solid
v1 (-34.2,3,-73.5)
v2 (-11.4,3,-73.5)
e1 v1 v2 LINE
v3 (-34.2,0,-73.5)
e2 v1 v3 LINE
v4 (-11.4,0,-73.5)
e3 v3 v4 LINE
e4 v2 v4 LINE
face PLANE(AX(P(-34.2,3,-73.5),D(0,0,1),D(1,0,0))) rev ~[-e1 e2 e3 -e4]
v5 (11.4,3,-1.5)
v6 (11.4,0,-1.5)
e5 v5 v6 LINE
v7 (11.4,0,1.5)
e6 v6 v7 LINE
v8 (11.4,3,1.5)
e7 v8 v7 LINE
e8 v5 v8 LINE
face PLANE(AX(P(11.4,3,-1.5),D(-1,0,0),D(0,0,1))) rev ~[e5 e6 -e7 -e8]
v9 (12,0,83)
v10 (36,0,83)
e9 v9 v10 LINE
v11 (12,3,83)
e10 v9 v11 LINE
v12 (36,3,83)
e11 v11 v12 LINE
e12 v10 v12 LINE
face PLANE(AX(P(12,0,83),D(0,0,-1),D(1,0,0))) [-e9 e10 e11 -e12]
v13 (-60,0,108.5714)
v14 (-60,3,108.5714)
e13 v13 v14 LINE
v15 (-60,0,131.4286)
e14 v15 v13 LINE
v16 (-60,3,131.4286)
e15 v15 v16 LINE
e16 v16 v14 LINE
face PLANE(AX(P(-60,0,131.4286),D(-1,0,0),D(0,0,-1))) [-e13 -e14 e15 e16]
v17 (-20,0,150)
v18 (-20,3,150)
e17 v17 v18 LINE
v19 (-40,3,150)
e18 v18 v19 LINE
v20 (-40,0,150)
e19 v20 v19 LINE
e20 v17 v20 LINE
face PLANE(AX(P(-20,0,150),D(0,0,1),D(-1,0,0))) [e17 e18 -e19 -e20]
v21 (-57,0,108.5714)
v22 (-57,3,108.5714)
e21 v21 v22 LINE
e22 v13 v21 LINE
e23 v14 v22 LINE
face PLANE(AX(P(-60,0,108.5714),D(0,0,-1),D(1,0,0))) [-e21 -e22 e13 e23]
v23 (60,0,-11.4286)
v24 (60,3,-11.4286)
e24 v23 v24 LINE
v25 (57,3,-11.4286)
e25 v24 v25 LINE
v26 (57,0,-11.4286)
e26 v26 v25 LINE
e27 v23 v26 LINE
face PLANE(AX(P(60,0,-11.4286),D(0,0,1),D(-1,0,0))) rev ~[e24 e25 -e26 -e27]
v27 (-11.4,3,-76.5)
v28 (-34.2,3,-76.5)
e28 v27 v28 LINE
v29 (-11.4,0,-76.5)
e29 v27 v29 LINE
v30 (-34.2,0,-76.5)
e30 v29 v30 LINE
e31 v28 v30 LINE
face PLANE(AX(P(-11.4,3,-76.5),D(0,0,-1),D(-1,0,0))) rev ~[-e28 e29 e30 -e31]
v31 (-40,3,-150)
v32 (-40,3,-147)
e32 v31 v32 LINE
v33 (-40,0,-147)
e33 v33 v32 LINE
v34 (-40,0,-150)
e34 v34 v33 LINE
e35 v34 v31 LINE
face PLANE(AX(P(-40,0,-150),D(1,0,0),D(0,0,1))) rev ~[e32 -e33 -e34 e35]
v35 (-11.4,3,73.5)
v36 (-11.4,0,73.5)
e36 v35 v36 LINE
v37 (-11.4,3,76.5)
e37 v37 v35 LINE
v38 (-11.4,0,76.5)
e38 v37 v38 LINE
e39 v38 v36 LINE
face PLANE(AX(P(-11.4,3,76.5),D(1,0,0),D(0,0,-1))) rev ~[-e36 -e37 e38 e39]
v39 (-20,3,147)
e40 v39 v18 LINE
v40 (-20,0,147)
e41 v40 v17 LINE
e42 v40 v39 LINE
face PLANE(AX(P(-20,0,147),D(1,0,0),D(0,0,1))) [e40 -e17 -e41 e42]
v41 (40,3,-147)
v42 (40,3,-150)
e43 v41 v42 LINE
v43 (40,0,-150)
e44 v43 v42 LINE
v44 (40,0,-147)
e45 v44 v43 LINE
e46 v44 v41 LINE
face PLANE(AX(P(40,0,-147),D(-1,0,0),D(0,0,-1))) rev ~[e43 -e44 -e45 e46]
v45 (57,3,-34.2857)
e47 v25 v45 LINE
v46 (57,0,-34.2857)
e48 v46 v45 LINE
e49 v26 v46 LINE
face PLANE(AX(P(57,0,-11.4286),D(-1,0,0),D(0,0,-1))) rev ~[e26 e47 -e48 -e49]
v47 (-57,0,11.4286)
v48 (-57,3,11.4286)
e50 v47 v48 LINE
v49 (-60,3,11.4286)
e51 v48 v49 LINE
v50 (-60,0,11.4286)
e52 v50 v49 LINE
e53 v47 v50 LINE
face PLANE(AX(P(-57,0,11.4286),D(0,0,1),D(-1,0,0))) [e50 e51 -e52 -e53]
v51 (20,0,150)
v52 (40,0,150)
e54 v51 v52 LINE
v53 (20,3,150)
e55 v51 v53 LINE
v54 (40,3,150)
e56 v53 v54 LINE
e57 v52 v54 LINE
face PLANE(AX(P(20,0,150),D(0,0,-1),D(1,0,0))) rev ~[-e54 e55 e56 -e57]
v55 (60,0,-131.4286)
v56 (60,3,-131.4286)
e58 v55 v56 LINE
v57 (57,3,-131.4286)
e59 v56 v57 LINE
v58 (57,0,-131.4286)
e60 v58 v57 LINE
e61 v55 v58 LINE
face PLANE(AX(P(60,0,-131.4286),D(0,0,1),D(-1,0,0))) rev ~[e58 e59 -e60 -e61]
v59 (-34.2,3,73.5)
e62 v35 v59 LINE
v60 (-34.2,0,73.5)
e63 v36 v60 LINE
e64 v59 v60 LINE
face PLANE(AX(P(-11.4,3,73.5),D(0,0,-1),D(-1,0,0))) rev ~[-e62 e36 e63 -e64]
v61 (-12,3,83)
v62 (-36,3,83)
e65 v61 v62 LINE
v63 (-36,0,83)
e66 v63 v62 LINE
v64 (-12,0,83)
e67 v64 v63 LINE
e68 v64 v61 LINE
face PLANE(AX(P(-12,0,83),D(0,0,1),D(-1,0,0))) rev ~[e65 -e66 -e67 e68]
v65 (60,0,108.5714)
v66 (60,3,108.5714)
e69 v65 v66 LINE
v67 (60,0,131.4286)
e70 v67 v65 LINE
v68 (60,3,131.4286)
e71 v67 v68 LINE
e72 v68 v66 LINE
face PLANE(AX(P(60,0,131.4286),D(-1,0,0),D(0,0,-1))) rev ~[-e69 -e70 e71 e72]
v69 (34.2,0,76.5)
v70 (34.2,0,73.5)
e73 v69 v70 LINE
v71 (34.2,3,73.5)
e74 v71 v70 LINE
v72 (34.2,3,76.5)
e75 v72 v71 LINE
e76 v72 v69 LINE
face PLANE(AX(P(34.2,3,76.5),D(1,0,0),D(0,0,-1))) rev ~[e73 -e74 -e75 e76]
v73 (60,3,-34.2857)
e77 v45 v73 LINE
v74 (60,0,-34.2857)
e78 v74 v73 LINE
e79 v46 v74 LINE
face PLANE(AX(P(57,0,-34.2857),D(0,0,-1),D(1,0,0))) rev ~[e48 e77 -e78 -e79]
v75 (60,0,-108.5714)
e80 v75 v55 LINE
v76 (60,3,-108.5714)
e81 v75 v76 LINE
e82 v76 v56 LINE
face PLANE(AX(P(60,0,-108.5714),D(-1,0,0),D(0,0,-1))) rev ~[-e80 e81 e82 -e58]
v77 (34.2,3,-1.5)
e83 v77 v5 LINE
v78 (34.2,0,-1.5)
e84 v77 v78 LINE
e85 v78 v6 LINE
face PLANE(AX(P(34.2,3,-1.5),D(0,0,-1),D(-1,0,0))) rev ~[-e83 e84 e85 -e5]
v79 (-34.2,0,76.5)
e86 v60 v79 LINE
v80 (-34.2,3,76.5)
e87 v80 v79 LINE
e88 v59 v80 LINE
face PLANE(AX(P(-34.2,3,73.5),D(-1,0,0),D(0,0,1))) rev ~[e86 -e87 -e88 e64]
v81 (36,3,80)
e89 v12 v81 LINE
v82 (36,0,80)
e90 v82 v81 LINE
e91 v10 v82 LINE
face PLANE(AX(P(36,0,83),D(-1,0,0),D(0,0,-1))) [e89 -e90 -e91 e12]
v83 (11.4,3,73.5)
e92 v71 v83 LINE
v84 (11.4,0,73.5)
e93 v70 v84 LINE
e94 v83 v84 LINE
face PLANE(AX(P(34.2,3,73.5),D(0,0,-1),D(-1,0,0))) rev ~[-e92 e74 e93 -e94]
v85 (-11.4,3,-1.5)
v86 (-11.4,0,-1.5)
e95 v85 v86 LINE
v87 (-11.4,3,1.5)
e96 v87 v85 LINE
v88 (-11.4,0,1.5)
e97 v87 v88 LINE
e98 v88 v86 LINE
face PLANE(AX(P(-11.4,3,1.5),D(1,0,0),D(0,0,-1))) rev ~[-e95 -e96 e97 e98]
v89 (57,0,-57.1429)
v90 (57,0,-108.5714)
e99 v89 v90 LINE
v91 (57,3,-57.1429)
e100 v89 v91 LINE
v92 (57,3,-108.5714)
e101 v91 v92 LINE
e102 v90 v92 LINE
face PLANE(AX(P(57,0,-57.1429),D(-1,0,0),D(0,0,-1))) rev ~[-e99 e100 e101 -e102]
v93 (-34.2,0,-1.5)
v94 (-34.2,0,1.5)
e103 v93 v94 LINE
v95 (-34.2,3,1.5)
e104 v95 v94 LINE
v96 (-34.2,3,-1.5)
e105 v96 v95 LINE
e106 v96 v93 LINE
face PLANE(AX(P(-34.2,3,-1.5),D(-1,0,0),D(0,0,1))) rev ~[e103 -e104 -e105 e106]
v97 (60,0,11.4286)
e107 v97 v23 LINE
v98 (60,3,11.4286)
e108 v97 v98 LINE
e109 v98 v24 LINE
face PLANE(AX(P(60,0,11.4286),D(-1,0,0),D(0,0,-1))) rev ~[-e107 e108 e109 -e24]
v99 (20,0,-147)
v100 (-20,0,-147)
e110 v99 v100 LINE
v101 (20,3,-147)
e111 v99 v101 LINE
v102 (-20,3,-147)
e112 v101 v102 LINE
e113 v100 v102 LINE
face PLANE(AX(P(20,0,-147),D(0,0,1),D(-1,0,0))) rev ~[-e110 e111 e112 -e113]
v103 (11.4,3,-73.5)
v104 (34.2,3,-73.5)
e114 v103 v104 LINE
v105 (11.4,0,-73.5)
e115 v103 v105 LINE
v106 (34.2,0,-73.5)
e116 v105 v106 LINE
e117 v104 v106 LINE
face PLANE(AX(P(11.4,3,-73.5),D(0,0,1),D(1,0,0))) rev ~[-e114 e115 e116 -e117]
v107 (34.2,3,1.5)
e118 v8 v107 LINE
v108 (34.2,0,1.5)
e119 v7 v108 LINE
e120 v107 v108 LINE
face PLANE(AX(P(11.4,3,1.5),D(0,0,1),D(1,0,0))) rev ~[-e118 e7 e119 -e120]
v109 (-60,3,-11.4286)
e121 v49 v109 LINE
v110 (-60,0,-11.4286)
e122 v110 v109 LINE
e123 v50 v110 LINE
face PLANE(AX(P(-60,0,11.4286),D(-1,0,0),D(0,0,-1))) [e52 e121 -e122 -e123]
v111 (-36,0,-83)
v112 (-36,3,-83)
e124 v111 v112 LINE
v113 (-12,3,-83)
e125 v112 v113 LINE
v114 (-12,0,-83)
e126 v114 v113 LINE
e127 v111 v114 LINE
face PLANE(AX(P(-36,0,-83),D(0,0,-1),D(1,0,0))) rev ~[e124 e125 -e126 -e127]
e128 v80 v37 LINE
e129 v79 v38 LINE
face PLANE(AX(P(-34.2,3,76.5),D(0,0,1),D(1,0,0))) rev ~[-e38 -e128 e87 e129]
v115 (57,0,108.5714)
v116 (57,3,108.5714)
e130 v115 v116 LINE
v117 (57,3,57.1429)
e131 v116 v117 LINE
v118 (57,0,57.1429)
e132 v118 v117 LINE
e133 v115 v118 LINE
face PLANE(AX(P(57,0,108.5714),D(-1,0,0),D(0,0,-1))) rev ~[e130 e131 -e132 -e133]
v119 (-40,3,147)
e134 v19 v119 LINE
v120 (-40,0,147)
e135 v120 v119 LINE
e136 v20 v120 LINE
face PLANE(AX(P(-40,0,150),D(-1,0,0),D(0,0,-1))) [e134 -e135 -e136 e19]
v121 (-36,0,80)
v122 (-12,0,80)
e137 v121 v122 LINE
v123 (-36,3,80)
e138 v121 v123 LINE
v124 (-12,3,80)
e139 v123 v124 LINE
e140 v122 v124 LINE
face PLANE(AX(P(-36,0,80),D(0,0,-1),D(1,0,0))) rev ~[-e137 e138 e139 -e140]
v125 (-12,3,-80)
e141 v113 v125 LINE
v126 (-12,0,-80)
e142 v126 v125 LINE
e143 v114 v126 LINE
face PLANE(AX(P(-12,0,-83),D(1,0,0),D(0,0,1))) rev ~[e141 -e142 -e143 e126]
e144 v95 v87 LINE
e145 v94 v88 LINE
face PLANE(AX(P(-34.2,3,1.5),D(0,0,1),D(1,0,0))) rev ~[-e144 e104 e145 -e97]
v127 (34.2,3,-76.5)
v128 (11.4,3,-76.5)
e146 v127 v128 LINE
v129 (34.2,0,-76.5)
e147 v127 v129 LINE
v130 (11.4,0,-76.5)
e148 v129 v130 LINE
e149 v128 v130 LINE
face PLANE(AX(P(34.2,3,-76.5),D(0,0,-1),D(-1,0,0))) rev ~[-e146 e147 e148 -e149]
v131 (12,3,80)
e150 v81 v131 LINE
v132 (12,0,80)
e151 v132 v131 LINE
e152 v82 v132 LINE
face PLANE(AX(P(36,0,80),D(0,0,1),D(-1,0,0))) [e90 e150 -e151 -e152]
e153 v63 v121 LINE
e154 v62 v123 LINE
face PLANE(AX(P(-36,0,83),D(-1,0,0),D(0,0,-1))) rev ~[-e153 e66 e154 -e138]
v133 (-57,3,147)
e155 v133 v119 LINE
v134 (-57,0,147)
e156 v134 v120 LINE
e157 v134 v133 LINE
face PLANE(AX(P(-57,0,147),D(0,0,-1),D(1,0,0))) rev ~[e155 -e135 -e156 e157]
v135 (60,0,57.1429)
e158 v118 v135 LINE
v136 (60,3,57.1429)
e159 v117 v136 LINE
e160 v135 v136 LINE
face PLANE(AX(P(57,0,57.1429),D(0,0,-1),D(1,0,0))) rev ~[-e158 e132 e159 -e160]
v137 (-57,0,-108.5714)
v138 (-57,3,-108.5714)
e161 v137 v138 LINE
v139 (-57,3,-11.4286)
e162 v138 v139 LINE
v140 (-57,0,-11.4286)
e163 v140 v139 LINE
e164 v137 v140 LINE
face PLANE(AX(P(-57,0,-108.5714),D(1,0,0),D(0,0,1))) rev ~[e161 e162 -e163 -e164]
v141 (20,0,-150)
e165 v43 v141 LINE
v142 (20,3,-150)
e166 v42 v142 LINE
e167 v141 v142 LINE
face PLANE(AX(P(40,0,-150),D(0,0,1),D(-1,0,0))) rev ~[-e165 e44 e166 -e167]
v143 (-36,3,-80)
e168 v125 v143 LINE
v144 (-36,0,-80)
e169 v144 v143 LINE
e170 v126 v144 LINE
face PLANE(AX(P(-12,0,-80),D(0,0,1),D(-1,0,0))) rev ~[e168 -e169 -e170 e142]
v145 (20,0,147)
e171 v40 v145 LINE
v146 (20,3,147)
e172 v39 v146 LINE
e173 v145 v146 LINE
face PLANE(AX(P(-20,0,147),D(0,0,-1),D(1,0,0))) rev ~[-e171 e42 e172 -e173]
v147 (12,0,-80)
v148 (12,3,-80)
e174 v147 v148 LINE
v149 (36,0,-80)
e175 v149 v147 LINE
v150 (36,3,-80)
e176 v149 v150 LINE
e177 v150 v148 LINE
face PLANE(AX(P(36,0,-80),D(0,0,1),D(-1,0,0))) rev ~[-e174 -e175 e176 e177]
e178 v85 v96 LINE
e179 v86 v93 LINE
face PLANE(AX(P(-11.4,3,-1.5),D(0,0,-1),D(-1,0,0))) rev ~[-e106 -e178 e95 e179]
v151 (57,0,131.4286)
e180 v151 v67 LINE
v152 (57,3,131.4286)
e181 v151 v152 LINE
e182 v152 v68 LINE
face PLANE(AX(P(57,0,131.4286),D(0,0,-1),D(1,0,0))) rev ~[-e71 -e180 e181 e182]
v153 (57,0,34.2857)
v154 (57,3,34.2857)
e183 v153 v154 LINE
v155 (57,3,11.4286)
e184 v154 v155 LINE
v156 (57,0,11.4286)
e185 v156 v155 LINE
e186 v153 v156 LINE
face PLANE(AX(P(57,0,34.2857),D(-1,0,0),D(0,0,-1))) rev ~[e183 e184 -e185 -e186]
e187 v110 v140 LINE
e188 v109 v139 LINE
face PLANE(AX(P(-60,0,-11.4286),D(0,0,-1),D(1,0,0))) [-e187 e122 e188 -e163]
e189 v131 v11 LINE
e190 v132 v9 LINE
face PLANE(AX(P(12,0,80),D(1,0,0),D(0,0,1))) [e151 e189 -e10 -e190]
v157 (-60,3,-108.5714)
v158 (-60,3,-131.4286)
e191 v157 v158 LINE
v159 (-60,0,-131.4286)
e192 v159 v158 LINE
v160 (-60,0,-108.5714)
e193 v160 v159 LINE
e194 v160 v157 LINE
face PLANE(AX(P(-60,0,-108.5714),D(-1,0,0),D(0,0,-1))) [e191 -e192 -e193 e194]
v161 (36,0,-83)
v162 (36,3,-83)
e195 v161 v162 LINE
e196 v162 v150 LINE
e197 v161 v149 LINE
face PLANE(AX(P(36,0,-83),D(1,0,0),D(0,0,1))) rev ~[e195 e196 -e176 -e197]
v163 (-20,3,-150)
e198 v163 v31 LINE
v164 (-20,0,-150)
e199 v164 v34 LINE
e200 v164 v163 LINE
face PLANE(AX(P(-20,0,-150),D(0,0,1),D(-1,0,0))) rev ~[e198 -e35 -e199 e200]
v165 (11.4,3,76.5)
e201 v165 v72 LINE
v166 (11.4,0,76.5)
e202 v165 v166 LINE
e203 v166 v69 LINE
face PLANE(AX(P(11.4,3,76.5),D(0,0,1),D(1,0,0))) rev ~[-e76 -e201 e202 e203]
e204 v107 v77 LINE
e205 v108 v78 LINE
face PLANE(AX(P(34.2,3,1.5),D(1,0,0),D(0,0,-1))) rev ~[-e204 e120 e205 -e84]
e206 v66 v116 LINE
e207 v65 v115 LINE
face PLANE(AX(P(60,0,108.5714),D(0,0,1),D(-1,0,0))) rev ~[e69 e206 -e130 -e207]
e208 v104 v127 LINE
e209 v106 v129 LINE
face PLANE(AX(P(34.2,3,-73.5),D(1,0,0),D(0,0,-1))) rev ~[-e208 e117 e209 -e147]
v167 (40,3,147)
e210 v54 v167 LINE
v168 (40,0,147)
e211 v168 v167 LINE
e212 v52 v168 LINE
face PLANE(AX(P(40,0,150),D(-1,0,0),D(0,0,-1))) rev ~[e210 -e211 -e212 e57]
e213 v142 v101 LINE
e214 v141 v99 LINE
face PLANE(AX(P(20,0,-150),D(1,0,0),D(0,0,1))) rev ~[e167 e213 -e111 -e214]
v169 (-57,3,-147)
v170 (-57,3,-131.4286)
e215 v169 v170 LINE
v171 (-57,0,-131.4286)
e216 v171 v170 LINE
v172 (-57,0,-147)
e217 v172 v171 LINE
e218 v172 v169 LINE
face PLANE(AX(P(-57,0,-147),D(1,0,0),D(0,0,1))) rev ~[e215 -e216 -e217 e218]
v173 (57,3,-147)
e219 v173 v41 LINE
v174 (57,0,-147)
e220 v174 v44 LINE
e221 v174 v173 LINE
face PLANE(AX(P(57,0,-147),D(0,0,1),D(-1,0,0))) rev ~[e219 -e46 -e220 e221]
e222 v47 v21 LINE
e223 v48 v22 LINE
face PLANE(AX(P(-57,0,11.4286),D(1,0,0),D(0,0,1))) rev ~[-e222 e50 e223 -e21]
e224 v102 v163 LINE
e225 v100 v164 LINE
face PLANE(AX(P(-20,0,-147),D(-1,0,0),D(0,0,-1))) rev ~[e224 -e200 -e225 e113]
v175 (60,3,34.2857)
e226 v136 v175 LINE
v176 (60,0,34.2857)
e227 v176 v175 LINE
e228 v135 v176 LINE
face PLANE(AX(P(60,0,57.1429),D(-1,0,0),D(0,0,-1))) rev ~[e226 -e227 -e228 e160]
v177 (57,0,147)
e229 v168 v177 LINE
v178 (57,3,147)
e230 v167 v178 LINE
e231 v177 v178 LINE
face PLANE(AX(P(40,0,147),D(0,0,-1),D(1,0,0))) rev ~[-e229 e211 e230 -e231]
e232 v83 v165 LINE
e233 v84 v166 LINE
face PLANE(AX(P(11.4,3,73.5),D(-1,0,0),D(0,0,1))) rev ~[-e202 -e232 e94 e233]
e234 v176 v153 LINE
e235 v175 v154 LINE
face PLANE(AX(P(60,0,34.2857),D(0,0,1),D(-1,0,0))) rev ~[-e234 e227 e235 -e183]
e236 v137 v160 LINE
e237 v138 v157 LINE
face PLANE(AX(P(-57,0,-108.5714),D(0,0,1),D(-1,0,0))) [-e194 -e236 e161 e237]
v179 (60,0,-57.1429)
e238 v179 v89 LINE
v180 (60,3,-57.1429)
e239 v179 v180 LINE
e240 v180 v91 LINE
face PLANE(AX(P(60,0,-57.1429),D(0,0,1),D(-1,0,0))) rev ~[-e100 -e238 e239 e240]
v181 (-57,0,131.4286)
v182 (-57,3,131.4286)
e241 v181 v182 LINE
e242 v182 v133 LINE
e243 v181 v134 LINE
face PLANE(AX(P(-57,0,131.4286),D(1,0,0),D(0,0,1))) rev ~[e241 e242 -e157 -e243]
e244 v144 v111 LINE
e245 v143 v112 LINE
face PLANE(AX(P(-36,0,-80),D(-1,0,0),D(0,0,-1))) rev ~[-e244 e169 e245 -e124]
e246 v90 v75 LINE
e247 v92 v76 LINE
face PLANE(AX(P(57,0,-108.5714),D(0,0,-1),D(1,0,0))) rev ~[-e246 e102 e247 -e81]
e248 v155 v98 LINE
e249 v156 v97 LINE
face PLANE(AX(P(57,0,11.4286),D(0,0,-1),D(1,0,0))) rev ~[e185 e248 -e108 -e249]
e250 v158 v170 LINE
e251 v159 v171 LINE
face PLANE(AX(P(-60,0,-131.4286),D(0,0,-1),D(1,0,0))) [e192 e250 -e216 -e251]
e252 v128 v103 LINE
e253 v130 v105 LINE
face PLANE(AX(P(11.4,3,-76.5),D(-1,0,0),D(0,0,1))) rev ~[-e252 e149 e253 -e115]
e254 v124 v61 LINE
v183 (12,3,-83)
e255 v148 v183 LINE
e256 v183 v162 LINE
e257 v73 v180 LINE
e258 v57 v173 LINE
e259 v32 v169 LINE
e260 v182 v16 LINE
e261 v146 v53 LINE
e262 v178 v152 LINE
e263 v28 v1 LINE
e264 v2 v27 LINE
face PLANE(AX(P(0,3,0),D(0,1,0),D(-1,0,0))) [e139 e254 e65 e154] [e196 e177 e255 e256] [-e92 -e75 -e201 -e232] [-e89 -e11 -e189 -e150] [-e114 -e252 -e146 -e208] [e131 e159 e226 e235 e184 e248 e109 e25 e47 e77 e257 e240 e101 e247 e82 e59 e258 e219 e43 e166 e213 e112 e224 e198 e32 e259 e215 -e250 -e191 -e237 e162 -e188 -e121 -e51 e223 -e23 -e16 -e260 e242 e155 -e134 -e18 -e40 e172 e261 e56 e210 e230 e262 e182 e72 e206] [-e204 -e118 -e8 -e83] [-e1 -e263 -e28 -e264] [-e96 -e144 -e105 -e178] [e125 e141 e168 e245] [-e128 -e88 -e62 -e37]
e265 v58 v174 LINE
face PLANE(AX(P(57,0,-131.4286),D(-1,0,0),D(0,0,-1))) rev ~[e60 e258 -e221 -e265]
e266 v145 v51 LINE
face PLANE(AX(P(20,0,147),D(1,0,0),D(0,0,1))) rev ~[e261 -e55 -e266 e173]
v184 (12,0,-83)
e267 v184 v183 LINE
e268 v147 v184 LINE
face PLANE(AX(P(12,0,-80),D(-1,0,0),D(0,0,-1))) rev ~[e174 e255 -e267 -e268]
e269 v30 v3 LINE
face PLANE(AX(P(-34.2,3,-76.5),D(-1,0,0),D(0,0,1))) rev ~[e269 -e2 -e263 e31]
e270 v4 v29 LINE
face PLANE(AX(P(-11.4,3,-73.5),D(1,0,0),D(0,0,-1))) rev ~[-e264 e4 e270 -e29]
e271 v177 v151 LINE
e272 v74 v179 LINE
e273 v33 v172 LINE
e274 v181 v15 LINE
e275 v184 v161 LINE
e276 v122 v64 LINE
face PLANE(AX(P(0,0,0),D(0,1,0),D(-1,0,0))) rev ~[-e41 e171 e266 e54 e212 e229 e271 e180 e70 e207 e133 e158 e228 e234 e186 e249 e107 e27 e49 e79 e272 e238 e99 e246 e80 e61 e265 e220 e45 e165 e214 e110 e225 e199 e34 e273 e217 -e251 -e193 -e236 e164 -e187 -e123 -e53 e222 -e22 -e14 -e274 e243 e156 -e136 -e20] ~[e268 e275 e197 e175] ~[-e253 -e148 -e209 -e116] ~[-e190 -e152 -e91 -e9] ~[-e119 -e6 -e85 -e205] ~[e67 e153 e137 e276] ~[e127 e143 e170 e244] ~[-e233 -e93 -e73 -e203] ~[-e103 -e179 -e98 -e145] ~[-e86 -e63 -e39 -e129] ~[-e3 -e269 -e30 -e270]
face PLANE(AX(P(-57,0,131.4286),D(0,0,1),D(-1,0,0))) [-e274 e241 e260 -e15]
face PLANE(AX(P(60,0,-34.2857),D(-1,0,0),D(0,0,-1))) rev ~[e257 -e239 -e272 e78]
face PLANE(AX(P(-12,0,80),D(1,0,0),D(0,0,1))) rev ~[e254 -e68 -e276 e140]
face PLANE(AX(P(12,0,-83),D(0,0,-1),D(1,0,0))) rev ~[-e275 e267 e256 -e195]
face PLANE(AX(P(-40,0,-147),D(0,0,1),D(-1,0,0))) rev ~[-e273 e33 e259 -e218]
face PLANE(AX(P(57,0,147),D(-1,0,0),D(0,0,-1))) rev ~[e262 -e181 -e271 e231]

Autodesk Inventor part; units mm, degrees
ref_plane "YZ Plane" through (0, 0, 0) normal (1, 0, 0) x (0, 1, 0)
ref_plane "XZ Plane" through (0, 0, 0) normal (0, 1, 0) x (-1, 0, 0)
ref_plane "XY Plane" through (0, 0, 0) normal (0, 0, 1) x (1, 0, 0)
sketch "Sketch1" plane through (0, 0, 0) normal (0, 1, 0) x (-1, 0, 0)
  line L0 (20, 147) -> (20, 150)
  line L1 (20, 150) -> (40, 150)
  line L2 (40, 150) -> (40, 147)
  line L3 (-20, 147) -> (-20, 150)
  line L4 (-20, 150) -> (-40, 150)
  line L5 (-40, 150) -> (-40, 147)
  line L6 (-40, 147) -> (-57, 147)
  line L7 (57, 147) -> (40, 147)
  line L8 (20, 147) -> (-20, 147)
  line L9 (20, -147) -> (20, -150)
  line L10 (20, -150) -> (40, -150)
  line L11 (40, -150) -> (40, -147)
  line L12 (-40, -147) -> (-40, -150)
  line L13 (-40, -150) -> (-20, -150)
  line L14 (-20, -150) -> (-20, -147)
  line L15 (40, -147) -> (57, -147)
  line L16 (-57, -147) -> (-40, -147)
  line L17 (-20, -147) -> (20, -147)
  line L18 (-57, 131.4286) -> (-60, 131.4286)
  line L19 (-60, 131.4286) -> (-60, 108.5714)
  line L20 (-60, 108.5714) -> (-57, 108.5714)
  line L21 (-57, 11.4286) -> (-60, 11.4286)
  line L22 (-60, 11.4286) -> (-60, -11.4286)
  line L23 (-60, -11.4286) -> (-57, -11.4286)
  line L24 (-57, -108.5714) -> (-60, -108.5714)
  line L25 (-60, -108.5714) -> (-60, -131.4286)
  line L26 (-60, -131.4286) -> (-57, -131.4286)
  line L27 (-57, 147) -> (-57, 131.4286)
  line L28 (-57, -131.4286) -> (-57, -147)
  line L29 (57, 131.4286) -> (60, 131.4286)
  line L30 (60, 131.4286) -> (60, 108.5714)
  line L31 (60, 108.5714) -> (57, 108.5714)
  line L32 (57, 11.4286) -> (60, 11.4286)
  line L33 (60, 11.4286) -> (60, -11.4286)
  line L34 (60, -11.4286) -> (57, -11.4286)
  line L35 (57, -108.5714) -> (60, -108.5714)
  line L36 (60, -108.5714) -> (60, -131.4286)
  line L37 (60, -131.4286) -> (57, -131.4286)
  line L38 (57, 131.4286) -> (57, 147)
  line L39 (57, 11.4286) -> (57, 108.5714)
  line L40 (57, -147) -> (57, -131.4286)
  line L41 (57, -108.5714) -> (57, -11.4286)
  line L42 (-57, 57.1429) -> (-60, 57.1429)
  line L43 (-60, 57.1429) -> (-60, 34.2857)
  line L44 (-60, 34.2857) -> (-57, 34.2857)
  line L45 (-57, -34.2857) -> (-60, -34.2857)
  line L46 (-60, -34.2857) -> (-60, -57.1429)
  line L47 (-60, -57.1429) -> (-57, -57.1429)
  line L48 (-57, 108.5714) -> (-57, 57.1429)
  line L49 (-57, 34.2857) -> (-57, 11.4286)
  line L50 (-57, -11.4286) -> (-57, -34.2857)
  line L51 (-57, -57.1429) -> (-57, -108.5714)
  line L52 (-36, 80) -> (-12, 80)
  line L53 (-12, 80) -> (-12, 83)
  line L54 (-12, 83) -> (-36, 83)
  line L55 (-36, 83) -> (-36, 80)
  line L56 (-36, -80) -> (-12, -80)
  line L57 (-12, -80) -> (-12, -83)
  line L58 (-12, -83) -> (-36, -83)
  line L59 (-36, -83) -> (-36, -80)
  line L60 (12, 83) -> (36, 83)
  line L61 (36, 83) -> (36, 80)
  line L62 (36, 80) -> (12, 80)
  line L63 (12, 80) -> (12, 83)
  line L64 (12, -80) -> (36, -80)
  line L65 (36, -80) -> (36, -83)
  line L66 (36, -83) -> (12, -83)
  line L67 (12, -83) -> (12, -80)
  point P0 (0, 0)
  point P1 (-60, 120)
  point P2 (-60, -120)
  dimension "d1" = 294
  dimension "d5" = 20
  dimension "d7" = 20
  dimension "d9" = 3
  dimension "d10" = 147
  dimension "d11" = 3
  dimension "d12" = 57
  dimension "d13" = 3
  dimension "d14" = 17
  dimension "d15" = 3
  dimension "d16" = 17
  dimension "d17" = 22.8571
  dimension "d18" = 11.4286
  dimension "d20" = 120
  dimension "d21" = 17
  dimension "d24" = 114
  dimension "d25" = 22.8571
  dimension "d26" = 24
  dimension "d27" = 3
  dimension "d28" = 3
  dimension "d29" = 22.8571
  dimension "d30" = 24
  dimension "d31" = 24
  dimension "d32" = 22.8571
  dimension "d33" = 120
extrude "Extrusion1" add sketch "Sketch1" along normal blind 3
sketch "Sketch2" plane through (0, 3, 0) normal (0, 1, 0) x (1, 0, 0)
  line L0 (34.2, 76.5) -> (11.4, 76.5)
  line L1 (11.4, 76.5) -> (11.4, 73.5)
  line L2 (11.4, 73.5) -> (34.2, 73.5)
  line L3 (34.2, 73.5) -> (34.2, 76.5)
  line L4 (-11.4, 76.5) -> (-34.2, 76.5)
  line L5 (-34.2, 76.5) -> (-34.2, 73.5)
  line L6 (-34.2, 73.5) -> (-11.4, 73.5)
  line L7 (-11.4, 73.5) -> (-11.4, 76.5)
  line L8 (34.2, 73.5) -> (57, 73.5) construction
  line L9 (11.4, 73.5) -> (-11.4, 73.5) construction
  line L10 (-34.2, 73.5) -> (-57, 73.5) construction
  line L11 (-57, 108.5714) -> (-57, 11.4286) projected
  line L12 (57, 57.1429) -> (57, 108.5714) projected
  point P0 (0, 0)
  dimension "d34" = 22.8
  dimension "d35" = 22.8
  dimension "d36" = 3
  dimension "d37" = 73.5
extrude "Extrusion2" cut sketch "Sketch2" against normal through all
pattern_linear "Rectangular Pattern1" count 3 spacing 75 along (0, 0, 1) of "Extrusion2"
equation "\"d1\" = wt - 2 * tt"
equation "\"d9\" = tt"
equation "\"d10\" = 0.5 * wt - tt"
equation "\"d11\" = tt"
equation "\"d12\" = 0.5 * ht - tt"
equation "\"d13\" = tt"
equation "\"d15\" = tt"
equation "\"d17\" = 0.142857 * shelfW + 2 * tol"
equation "\"d18\" = 0.0714286 * shelfW + tol"
equation "\"d20\" = 0.4 * wt"
equation "\"d24\" = ht - 2 * tt"
equation "\"d25\" = 0.142857 * shelfW - 2 * tol"
equation "\"d26\" = 0.2 * ht + 2 * tol"
equation "\"d27\" = tt"
equation "\"d28\" = tt"
equation "\"d29\" = 0.142857 * shelfW - tol"
equation "\"d30\" = 0.2 * ht - tol"
equation "\"d31\" = 0.2 * ht - 2 * tol"
equation "\"d32\" = 0.142857 * shelfW - tol"
equation "\"d33\" = 0.4 * wt"
equation "\"d22\" = tt"
equation "\"d34\" = -0.4 * tt + 0.2 * ht + 2 * tol"
equation "\"d36\" = tt"
equation "\"d37\" = 0.25 * wt - 0.5 * tt"
equation "\"d42\" = 0.25 * wt"
equation "\"d0\" = 0.5 * wt - tt"
equation "\"tt\" = 3"
equation "\"tol\" = 0"
equation "\"tiroir\" = 1"
equation "\"nHoles\" = 4"
equation "\"shelfH\" = 35"
equation "\"d3\" = 0.5 * ht - tt"
equation "\"wt\" = 300"
equation "\"shelfW\" = 160"
equation "\"ht\" = 120"
properties part number "in_separator"
